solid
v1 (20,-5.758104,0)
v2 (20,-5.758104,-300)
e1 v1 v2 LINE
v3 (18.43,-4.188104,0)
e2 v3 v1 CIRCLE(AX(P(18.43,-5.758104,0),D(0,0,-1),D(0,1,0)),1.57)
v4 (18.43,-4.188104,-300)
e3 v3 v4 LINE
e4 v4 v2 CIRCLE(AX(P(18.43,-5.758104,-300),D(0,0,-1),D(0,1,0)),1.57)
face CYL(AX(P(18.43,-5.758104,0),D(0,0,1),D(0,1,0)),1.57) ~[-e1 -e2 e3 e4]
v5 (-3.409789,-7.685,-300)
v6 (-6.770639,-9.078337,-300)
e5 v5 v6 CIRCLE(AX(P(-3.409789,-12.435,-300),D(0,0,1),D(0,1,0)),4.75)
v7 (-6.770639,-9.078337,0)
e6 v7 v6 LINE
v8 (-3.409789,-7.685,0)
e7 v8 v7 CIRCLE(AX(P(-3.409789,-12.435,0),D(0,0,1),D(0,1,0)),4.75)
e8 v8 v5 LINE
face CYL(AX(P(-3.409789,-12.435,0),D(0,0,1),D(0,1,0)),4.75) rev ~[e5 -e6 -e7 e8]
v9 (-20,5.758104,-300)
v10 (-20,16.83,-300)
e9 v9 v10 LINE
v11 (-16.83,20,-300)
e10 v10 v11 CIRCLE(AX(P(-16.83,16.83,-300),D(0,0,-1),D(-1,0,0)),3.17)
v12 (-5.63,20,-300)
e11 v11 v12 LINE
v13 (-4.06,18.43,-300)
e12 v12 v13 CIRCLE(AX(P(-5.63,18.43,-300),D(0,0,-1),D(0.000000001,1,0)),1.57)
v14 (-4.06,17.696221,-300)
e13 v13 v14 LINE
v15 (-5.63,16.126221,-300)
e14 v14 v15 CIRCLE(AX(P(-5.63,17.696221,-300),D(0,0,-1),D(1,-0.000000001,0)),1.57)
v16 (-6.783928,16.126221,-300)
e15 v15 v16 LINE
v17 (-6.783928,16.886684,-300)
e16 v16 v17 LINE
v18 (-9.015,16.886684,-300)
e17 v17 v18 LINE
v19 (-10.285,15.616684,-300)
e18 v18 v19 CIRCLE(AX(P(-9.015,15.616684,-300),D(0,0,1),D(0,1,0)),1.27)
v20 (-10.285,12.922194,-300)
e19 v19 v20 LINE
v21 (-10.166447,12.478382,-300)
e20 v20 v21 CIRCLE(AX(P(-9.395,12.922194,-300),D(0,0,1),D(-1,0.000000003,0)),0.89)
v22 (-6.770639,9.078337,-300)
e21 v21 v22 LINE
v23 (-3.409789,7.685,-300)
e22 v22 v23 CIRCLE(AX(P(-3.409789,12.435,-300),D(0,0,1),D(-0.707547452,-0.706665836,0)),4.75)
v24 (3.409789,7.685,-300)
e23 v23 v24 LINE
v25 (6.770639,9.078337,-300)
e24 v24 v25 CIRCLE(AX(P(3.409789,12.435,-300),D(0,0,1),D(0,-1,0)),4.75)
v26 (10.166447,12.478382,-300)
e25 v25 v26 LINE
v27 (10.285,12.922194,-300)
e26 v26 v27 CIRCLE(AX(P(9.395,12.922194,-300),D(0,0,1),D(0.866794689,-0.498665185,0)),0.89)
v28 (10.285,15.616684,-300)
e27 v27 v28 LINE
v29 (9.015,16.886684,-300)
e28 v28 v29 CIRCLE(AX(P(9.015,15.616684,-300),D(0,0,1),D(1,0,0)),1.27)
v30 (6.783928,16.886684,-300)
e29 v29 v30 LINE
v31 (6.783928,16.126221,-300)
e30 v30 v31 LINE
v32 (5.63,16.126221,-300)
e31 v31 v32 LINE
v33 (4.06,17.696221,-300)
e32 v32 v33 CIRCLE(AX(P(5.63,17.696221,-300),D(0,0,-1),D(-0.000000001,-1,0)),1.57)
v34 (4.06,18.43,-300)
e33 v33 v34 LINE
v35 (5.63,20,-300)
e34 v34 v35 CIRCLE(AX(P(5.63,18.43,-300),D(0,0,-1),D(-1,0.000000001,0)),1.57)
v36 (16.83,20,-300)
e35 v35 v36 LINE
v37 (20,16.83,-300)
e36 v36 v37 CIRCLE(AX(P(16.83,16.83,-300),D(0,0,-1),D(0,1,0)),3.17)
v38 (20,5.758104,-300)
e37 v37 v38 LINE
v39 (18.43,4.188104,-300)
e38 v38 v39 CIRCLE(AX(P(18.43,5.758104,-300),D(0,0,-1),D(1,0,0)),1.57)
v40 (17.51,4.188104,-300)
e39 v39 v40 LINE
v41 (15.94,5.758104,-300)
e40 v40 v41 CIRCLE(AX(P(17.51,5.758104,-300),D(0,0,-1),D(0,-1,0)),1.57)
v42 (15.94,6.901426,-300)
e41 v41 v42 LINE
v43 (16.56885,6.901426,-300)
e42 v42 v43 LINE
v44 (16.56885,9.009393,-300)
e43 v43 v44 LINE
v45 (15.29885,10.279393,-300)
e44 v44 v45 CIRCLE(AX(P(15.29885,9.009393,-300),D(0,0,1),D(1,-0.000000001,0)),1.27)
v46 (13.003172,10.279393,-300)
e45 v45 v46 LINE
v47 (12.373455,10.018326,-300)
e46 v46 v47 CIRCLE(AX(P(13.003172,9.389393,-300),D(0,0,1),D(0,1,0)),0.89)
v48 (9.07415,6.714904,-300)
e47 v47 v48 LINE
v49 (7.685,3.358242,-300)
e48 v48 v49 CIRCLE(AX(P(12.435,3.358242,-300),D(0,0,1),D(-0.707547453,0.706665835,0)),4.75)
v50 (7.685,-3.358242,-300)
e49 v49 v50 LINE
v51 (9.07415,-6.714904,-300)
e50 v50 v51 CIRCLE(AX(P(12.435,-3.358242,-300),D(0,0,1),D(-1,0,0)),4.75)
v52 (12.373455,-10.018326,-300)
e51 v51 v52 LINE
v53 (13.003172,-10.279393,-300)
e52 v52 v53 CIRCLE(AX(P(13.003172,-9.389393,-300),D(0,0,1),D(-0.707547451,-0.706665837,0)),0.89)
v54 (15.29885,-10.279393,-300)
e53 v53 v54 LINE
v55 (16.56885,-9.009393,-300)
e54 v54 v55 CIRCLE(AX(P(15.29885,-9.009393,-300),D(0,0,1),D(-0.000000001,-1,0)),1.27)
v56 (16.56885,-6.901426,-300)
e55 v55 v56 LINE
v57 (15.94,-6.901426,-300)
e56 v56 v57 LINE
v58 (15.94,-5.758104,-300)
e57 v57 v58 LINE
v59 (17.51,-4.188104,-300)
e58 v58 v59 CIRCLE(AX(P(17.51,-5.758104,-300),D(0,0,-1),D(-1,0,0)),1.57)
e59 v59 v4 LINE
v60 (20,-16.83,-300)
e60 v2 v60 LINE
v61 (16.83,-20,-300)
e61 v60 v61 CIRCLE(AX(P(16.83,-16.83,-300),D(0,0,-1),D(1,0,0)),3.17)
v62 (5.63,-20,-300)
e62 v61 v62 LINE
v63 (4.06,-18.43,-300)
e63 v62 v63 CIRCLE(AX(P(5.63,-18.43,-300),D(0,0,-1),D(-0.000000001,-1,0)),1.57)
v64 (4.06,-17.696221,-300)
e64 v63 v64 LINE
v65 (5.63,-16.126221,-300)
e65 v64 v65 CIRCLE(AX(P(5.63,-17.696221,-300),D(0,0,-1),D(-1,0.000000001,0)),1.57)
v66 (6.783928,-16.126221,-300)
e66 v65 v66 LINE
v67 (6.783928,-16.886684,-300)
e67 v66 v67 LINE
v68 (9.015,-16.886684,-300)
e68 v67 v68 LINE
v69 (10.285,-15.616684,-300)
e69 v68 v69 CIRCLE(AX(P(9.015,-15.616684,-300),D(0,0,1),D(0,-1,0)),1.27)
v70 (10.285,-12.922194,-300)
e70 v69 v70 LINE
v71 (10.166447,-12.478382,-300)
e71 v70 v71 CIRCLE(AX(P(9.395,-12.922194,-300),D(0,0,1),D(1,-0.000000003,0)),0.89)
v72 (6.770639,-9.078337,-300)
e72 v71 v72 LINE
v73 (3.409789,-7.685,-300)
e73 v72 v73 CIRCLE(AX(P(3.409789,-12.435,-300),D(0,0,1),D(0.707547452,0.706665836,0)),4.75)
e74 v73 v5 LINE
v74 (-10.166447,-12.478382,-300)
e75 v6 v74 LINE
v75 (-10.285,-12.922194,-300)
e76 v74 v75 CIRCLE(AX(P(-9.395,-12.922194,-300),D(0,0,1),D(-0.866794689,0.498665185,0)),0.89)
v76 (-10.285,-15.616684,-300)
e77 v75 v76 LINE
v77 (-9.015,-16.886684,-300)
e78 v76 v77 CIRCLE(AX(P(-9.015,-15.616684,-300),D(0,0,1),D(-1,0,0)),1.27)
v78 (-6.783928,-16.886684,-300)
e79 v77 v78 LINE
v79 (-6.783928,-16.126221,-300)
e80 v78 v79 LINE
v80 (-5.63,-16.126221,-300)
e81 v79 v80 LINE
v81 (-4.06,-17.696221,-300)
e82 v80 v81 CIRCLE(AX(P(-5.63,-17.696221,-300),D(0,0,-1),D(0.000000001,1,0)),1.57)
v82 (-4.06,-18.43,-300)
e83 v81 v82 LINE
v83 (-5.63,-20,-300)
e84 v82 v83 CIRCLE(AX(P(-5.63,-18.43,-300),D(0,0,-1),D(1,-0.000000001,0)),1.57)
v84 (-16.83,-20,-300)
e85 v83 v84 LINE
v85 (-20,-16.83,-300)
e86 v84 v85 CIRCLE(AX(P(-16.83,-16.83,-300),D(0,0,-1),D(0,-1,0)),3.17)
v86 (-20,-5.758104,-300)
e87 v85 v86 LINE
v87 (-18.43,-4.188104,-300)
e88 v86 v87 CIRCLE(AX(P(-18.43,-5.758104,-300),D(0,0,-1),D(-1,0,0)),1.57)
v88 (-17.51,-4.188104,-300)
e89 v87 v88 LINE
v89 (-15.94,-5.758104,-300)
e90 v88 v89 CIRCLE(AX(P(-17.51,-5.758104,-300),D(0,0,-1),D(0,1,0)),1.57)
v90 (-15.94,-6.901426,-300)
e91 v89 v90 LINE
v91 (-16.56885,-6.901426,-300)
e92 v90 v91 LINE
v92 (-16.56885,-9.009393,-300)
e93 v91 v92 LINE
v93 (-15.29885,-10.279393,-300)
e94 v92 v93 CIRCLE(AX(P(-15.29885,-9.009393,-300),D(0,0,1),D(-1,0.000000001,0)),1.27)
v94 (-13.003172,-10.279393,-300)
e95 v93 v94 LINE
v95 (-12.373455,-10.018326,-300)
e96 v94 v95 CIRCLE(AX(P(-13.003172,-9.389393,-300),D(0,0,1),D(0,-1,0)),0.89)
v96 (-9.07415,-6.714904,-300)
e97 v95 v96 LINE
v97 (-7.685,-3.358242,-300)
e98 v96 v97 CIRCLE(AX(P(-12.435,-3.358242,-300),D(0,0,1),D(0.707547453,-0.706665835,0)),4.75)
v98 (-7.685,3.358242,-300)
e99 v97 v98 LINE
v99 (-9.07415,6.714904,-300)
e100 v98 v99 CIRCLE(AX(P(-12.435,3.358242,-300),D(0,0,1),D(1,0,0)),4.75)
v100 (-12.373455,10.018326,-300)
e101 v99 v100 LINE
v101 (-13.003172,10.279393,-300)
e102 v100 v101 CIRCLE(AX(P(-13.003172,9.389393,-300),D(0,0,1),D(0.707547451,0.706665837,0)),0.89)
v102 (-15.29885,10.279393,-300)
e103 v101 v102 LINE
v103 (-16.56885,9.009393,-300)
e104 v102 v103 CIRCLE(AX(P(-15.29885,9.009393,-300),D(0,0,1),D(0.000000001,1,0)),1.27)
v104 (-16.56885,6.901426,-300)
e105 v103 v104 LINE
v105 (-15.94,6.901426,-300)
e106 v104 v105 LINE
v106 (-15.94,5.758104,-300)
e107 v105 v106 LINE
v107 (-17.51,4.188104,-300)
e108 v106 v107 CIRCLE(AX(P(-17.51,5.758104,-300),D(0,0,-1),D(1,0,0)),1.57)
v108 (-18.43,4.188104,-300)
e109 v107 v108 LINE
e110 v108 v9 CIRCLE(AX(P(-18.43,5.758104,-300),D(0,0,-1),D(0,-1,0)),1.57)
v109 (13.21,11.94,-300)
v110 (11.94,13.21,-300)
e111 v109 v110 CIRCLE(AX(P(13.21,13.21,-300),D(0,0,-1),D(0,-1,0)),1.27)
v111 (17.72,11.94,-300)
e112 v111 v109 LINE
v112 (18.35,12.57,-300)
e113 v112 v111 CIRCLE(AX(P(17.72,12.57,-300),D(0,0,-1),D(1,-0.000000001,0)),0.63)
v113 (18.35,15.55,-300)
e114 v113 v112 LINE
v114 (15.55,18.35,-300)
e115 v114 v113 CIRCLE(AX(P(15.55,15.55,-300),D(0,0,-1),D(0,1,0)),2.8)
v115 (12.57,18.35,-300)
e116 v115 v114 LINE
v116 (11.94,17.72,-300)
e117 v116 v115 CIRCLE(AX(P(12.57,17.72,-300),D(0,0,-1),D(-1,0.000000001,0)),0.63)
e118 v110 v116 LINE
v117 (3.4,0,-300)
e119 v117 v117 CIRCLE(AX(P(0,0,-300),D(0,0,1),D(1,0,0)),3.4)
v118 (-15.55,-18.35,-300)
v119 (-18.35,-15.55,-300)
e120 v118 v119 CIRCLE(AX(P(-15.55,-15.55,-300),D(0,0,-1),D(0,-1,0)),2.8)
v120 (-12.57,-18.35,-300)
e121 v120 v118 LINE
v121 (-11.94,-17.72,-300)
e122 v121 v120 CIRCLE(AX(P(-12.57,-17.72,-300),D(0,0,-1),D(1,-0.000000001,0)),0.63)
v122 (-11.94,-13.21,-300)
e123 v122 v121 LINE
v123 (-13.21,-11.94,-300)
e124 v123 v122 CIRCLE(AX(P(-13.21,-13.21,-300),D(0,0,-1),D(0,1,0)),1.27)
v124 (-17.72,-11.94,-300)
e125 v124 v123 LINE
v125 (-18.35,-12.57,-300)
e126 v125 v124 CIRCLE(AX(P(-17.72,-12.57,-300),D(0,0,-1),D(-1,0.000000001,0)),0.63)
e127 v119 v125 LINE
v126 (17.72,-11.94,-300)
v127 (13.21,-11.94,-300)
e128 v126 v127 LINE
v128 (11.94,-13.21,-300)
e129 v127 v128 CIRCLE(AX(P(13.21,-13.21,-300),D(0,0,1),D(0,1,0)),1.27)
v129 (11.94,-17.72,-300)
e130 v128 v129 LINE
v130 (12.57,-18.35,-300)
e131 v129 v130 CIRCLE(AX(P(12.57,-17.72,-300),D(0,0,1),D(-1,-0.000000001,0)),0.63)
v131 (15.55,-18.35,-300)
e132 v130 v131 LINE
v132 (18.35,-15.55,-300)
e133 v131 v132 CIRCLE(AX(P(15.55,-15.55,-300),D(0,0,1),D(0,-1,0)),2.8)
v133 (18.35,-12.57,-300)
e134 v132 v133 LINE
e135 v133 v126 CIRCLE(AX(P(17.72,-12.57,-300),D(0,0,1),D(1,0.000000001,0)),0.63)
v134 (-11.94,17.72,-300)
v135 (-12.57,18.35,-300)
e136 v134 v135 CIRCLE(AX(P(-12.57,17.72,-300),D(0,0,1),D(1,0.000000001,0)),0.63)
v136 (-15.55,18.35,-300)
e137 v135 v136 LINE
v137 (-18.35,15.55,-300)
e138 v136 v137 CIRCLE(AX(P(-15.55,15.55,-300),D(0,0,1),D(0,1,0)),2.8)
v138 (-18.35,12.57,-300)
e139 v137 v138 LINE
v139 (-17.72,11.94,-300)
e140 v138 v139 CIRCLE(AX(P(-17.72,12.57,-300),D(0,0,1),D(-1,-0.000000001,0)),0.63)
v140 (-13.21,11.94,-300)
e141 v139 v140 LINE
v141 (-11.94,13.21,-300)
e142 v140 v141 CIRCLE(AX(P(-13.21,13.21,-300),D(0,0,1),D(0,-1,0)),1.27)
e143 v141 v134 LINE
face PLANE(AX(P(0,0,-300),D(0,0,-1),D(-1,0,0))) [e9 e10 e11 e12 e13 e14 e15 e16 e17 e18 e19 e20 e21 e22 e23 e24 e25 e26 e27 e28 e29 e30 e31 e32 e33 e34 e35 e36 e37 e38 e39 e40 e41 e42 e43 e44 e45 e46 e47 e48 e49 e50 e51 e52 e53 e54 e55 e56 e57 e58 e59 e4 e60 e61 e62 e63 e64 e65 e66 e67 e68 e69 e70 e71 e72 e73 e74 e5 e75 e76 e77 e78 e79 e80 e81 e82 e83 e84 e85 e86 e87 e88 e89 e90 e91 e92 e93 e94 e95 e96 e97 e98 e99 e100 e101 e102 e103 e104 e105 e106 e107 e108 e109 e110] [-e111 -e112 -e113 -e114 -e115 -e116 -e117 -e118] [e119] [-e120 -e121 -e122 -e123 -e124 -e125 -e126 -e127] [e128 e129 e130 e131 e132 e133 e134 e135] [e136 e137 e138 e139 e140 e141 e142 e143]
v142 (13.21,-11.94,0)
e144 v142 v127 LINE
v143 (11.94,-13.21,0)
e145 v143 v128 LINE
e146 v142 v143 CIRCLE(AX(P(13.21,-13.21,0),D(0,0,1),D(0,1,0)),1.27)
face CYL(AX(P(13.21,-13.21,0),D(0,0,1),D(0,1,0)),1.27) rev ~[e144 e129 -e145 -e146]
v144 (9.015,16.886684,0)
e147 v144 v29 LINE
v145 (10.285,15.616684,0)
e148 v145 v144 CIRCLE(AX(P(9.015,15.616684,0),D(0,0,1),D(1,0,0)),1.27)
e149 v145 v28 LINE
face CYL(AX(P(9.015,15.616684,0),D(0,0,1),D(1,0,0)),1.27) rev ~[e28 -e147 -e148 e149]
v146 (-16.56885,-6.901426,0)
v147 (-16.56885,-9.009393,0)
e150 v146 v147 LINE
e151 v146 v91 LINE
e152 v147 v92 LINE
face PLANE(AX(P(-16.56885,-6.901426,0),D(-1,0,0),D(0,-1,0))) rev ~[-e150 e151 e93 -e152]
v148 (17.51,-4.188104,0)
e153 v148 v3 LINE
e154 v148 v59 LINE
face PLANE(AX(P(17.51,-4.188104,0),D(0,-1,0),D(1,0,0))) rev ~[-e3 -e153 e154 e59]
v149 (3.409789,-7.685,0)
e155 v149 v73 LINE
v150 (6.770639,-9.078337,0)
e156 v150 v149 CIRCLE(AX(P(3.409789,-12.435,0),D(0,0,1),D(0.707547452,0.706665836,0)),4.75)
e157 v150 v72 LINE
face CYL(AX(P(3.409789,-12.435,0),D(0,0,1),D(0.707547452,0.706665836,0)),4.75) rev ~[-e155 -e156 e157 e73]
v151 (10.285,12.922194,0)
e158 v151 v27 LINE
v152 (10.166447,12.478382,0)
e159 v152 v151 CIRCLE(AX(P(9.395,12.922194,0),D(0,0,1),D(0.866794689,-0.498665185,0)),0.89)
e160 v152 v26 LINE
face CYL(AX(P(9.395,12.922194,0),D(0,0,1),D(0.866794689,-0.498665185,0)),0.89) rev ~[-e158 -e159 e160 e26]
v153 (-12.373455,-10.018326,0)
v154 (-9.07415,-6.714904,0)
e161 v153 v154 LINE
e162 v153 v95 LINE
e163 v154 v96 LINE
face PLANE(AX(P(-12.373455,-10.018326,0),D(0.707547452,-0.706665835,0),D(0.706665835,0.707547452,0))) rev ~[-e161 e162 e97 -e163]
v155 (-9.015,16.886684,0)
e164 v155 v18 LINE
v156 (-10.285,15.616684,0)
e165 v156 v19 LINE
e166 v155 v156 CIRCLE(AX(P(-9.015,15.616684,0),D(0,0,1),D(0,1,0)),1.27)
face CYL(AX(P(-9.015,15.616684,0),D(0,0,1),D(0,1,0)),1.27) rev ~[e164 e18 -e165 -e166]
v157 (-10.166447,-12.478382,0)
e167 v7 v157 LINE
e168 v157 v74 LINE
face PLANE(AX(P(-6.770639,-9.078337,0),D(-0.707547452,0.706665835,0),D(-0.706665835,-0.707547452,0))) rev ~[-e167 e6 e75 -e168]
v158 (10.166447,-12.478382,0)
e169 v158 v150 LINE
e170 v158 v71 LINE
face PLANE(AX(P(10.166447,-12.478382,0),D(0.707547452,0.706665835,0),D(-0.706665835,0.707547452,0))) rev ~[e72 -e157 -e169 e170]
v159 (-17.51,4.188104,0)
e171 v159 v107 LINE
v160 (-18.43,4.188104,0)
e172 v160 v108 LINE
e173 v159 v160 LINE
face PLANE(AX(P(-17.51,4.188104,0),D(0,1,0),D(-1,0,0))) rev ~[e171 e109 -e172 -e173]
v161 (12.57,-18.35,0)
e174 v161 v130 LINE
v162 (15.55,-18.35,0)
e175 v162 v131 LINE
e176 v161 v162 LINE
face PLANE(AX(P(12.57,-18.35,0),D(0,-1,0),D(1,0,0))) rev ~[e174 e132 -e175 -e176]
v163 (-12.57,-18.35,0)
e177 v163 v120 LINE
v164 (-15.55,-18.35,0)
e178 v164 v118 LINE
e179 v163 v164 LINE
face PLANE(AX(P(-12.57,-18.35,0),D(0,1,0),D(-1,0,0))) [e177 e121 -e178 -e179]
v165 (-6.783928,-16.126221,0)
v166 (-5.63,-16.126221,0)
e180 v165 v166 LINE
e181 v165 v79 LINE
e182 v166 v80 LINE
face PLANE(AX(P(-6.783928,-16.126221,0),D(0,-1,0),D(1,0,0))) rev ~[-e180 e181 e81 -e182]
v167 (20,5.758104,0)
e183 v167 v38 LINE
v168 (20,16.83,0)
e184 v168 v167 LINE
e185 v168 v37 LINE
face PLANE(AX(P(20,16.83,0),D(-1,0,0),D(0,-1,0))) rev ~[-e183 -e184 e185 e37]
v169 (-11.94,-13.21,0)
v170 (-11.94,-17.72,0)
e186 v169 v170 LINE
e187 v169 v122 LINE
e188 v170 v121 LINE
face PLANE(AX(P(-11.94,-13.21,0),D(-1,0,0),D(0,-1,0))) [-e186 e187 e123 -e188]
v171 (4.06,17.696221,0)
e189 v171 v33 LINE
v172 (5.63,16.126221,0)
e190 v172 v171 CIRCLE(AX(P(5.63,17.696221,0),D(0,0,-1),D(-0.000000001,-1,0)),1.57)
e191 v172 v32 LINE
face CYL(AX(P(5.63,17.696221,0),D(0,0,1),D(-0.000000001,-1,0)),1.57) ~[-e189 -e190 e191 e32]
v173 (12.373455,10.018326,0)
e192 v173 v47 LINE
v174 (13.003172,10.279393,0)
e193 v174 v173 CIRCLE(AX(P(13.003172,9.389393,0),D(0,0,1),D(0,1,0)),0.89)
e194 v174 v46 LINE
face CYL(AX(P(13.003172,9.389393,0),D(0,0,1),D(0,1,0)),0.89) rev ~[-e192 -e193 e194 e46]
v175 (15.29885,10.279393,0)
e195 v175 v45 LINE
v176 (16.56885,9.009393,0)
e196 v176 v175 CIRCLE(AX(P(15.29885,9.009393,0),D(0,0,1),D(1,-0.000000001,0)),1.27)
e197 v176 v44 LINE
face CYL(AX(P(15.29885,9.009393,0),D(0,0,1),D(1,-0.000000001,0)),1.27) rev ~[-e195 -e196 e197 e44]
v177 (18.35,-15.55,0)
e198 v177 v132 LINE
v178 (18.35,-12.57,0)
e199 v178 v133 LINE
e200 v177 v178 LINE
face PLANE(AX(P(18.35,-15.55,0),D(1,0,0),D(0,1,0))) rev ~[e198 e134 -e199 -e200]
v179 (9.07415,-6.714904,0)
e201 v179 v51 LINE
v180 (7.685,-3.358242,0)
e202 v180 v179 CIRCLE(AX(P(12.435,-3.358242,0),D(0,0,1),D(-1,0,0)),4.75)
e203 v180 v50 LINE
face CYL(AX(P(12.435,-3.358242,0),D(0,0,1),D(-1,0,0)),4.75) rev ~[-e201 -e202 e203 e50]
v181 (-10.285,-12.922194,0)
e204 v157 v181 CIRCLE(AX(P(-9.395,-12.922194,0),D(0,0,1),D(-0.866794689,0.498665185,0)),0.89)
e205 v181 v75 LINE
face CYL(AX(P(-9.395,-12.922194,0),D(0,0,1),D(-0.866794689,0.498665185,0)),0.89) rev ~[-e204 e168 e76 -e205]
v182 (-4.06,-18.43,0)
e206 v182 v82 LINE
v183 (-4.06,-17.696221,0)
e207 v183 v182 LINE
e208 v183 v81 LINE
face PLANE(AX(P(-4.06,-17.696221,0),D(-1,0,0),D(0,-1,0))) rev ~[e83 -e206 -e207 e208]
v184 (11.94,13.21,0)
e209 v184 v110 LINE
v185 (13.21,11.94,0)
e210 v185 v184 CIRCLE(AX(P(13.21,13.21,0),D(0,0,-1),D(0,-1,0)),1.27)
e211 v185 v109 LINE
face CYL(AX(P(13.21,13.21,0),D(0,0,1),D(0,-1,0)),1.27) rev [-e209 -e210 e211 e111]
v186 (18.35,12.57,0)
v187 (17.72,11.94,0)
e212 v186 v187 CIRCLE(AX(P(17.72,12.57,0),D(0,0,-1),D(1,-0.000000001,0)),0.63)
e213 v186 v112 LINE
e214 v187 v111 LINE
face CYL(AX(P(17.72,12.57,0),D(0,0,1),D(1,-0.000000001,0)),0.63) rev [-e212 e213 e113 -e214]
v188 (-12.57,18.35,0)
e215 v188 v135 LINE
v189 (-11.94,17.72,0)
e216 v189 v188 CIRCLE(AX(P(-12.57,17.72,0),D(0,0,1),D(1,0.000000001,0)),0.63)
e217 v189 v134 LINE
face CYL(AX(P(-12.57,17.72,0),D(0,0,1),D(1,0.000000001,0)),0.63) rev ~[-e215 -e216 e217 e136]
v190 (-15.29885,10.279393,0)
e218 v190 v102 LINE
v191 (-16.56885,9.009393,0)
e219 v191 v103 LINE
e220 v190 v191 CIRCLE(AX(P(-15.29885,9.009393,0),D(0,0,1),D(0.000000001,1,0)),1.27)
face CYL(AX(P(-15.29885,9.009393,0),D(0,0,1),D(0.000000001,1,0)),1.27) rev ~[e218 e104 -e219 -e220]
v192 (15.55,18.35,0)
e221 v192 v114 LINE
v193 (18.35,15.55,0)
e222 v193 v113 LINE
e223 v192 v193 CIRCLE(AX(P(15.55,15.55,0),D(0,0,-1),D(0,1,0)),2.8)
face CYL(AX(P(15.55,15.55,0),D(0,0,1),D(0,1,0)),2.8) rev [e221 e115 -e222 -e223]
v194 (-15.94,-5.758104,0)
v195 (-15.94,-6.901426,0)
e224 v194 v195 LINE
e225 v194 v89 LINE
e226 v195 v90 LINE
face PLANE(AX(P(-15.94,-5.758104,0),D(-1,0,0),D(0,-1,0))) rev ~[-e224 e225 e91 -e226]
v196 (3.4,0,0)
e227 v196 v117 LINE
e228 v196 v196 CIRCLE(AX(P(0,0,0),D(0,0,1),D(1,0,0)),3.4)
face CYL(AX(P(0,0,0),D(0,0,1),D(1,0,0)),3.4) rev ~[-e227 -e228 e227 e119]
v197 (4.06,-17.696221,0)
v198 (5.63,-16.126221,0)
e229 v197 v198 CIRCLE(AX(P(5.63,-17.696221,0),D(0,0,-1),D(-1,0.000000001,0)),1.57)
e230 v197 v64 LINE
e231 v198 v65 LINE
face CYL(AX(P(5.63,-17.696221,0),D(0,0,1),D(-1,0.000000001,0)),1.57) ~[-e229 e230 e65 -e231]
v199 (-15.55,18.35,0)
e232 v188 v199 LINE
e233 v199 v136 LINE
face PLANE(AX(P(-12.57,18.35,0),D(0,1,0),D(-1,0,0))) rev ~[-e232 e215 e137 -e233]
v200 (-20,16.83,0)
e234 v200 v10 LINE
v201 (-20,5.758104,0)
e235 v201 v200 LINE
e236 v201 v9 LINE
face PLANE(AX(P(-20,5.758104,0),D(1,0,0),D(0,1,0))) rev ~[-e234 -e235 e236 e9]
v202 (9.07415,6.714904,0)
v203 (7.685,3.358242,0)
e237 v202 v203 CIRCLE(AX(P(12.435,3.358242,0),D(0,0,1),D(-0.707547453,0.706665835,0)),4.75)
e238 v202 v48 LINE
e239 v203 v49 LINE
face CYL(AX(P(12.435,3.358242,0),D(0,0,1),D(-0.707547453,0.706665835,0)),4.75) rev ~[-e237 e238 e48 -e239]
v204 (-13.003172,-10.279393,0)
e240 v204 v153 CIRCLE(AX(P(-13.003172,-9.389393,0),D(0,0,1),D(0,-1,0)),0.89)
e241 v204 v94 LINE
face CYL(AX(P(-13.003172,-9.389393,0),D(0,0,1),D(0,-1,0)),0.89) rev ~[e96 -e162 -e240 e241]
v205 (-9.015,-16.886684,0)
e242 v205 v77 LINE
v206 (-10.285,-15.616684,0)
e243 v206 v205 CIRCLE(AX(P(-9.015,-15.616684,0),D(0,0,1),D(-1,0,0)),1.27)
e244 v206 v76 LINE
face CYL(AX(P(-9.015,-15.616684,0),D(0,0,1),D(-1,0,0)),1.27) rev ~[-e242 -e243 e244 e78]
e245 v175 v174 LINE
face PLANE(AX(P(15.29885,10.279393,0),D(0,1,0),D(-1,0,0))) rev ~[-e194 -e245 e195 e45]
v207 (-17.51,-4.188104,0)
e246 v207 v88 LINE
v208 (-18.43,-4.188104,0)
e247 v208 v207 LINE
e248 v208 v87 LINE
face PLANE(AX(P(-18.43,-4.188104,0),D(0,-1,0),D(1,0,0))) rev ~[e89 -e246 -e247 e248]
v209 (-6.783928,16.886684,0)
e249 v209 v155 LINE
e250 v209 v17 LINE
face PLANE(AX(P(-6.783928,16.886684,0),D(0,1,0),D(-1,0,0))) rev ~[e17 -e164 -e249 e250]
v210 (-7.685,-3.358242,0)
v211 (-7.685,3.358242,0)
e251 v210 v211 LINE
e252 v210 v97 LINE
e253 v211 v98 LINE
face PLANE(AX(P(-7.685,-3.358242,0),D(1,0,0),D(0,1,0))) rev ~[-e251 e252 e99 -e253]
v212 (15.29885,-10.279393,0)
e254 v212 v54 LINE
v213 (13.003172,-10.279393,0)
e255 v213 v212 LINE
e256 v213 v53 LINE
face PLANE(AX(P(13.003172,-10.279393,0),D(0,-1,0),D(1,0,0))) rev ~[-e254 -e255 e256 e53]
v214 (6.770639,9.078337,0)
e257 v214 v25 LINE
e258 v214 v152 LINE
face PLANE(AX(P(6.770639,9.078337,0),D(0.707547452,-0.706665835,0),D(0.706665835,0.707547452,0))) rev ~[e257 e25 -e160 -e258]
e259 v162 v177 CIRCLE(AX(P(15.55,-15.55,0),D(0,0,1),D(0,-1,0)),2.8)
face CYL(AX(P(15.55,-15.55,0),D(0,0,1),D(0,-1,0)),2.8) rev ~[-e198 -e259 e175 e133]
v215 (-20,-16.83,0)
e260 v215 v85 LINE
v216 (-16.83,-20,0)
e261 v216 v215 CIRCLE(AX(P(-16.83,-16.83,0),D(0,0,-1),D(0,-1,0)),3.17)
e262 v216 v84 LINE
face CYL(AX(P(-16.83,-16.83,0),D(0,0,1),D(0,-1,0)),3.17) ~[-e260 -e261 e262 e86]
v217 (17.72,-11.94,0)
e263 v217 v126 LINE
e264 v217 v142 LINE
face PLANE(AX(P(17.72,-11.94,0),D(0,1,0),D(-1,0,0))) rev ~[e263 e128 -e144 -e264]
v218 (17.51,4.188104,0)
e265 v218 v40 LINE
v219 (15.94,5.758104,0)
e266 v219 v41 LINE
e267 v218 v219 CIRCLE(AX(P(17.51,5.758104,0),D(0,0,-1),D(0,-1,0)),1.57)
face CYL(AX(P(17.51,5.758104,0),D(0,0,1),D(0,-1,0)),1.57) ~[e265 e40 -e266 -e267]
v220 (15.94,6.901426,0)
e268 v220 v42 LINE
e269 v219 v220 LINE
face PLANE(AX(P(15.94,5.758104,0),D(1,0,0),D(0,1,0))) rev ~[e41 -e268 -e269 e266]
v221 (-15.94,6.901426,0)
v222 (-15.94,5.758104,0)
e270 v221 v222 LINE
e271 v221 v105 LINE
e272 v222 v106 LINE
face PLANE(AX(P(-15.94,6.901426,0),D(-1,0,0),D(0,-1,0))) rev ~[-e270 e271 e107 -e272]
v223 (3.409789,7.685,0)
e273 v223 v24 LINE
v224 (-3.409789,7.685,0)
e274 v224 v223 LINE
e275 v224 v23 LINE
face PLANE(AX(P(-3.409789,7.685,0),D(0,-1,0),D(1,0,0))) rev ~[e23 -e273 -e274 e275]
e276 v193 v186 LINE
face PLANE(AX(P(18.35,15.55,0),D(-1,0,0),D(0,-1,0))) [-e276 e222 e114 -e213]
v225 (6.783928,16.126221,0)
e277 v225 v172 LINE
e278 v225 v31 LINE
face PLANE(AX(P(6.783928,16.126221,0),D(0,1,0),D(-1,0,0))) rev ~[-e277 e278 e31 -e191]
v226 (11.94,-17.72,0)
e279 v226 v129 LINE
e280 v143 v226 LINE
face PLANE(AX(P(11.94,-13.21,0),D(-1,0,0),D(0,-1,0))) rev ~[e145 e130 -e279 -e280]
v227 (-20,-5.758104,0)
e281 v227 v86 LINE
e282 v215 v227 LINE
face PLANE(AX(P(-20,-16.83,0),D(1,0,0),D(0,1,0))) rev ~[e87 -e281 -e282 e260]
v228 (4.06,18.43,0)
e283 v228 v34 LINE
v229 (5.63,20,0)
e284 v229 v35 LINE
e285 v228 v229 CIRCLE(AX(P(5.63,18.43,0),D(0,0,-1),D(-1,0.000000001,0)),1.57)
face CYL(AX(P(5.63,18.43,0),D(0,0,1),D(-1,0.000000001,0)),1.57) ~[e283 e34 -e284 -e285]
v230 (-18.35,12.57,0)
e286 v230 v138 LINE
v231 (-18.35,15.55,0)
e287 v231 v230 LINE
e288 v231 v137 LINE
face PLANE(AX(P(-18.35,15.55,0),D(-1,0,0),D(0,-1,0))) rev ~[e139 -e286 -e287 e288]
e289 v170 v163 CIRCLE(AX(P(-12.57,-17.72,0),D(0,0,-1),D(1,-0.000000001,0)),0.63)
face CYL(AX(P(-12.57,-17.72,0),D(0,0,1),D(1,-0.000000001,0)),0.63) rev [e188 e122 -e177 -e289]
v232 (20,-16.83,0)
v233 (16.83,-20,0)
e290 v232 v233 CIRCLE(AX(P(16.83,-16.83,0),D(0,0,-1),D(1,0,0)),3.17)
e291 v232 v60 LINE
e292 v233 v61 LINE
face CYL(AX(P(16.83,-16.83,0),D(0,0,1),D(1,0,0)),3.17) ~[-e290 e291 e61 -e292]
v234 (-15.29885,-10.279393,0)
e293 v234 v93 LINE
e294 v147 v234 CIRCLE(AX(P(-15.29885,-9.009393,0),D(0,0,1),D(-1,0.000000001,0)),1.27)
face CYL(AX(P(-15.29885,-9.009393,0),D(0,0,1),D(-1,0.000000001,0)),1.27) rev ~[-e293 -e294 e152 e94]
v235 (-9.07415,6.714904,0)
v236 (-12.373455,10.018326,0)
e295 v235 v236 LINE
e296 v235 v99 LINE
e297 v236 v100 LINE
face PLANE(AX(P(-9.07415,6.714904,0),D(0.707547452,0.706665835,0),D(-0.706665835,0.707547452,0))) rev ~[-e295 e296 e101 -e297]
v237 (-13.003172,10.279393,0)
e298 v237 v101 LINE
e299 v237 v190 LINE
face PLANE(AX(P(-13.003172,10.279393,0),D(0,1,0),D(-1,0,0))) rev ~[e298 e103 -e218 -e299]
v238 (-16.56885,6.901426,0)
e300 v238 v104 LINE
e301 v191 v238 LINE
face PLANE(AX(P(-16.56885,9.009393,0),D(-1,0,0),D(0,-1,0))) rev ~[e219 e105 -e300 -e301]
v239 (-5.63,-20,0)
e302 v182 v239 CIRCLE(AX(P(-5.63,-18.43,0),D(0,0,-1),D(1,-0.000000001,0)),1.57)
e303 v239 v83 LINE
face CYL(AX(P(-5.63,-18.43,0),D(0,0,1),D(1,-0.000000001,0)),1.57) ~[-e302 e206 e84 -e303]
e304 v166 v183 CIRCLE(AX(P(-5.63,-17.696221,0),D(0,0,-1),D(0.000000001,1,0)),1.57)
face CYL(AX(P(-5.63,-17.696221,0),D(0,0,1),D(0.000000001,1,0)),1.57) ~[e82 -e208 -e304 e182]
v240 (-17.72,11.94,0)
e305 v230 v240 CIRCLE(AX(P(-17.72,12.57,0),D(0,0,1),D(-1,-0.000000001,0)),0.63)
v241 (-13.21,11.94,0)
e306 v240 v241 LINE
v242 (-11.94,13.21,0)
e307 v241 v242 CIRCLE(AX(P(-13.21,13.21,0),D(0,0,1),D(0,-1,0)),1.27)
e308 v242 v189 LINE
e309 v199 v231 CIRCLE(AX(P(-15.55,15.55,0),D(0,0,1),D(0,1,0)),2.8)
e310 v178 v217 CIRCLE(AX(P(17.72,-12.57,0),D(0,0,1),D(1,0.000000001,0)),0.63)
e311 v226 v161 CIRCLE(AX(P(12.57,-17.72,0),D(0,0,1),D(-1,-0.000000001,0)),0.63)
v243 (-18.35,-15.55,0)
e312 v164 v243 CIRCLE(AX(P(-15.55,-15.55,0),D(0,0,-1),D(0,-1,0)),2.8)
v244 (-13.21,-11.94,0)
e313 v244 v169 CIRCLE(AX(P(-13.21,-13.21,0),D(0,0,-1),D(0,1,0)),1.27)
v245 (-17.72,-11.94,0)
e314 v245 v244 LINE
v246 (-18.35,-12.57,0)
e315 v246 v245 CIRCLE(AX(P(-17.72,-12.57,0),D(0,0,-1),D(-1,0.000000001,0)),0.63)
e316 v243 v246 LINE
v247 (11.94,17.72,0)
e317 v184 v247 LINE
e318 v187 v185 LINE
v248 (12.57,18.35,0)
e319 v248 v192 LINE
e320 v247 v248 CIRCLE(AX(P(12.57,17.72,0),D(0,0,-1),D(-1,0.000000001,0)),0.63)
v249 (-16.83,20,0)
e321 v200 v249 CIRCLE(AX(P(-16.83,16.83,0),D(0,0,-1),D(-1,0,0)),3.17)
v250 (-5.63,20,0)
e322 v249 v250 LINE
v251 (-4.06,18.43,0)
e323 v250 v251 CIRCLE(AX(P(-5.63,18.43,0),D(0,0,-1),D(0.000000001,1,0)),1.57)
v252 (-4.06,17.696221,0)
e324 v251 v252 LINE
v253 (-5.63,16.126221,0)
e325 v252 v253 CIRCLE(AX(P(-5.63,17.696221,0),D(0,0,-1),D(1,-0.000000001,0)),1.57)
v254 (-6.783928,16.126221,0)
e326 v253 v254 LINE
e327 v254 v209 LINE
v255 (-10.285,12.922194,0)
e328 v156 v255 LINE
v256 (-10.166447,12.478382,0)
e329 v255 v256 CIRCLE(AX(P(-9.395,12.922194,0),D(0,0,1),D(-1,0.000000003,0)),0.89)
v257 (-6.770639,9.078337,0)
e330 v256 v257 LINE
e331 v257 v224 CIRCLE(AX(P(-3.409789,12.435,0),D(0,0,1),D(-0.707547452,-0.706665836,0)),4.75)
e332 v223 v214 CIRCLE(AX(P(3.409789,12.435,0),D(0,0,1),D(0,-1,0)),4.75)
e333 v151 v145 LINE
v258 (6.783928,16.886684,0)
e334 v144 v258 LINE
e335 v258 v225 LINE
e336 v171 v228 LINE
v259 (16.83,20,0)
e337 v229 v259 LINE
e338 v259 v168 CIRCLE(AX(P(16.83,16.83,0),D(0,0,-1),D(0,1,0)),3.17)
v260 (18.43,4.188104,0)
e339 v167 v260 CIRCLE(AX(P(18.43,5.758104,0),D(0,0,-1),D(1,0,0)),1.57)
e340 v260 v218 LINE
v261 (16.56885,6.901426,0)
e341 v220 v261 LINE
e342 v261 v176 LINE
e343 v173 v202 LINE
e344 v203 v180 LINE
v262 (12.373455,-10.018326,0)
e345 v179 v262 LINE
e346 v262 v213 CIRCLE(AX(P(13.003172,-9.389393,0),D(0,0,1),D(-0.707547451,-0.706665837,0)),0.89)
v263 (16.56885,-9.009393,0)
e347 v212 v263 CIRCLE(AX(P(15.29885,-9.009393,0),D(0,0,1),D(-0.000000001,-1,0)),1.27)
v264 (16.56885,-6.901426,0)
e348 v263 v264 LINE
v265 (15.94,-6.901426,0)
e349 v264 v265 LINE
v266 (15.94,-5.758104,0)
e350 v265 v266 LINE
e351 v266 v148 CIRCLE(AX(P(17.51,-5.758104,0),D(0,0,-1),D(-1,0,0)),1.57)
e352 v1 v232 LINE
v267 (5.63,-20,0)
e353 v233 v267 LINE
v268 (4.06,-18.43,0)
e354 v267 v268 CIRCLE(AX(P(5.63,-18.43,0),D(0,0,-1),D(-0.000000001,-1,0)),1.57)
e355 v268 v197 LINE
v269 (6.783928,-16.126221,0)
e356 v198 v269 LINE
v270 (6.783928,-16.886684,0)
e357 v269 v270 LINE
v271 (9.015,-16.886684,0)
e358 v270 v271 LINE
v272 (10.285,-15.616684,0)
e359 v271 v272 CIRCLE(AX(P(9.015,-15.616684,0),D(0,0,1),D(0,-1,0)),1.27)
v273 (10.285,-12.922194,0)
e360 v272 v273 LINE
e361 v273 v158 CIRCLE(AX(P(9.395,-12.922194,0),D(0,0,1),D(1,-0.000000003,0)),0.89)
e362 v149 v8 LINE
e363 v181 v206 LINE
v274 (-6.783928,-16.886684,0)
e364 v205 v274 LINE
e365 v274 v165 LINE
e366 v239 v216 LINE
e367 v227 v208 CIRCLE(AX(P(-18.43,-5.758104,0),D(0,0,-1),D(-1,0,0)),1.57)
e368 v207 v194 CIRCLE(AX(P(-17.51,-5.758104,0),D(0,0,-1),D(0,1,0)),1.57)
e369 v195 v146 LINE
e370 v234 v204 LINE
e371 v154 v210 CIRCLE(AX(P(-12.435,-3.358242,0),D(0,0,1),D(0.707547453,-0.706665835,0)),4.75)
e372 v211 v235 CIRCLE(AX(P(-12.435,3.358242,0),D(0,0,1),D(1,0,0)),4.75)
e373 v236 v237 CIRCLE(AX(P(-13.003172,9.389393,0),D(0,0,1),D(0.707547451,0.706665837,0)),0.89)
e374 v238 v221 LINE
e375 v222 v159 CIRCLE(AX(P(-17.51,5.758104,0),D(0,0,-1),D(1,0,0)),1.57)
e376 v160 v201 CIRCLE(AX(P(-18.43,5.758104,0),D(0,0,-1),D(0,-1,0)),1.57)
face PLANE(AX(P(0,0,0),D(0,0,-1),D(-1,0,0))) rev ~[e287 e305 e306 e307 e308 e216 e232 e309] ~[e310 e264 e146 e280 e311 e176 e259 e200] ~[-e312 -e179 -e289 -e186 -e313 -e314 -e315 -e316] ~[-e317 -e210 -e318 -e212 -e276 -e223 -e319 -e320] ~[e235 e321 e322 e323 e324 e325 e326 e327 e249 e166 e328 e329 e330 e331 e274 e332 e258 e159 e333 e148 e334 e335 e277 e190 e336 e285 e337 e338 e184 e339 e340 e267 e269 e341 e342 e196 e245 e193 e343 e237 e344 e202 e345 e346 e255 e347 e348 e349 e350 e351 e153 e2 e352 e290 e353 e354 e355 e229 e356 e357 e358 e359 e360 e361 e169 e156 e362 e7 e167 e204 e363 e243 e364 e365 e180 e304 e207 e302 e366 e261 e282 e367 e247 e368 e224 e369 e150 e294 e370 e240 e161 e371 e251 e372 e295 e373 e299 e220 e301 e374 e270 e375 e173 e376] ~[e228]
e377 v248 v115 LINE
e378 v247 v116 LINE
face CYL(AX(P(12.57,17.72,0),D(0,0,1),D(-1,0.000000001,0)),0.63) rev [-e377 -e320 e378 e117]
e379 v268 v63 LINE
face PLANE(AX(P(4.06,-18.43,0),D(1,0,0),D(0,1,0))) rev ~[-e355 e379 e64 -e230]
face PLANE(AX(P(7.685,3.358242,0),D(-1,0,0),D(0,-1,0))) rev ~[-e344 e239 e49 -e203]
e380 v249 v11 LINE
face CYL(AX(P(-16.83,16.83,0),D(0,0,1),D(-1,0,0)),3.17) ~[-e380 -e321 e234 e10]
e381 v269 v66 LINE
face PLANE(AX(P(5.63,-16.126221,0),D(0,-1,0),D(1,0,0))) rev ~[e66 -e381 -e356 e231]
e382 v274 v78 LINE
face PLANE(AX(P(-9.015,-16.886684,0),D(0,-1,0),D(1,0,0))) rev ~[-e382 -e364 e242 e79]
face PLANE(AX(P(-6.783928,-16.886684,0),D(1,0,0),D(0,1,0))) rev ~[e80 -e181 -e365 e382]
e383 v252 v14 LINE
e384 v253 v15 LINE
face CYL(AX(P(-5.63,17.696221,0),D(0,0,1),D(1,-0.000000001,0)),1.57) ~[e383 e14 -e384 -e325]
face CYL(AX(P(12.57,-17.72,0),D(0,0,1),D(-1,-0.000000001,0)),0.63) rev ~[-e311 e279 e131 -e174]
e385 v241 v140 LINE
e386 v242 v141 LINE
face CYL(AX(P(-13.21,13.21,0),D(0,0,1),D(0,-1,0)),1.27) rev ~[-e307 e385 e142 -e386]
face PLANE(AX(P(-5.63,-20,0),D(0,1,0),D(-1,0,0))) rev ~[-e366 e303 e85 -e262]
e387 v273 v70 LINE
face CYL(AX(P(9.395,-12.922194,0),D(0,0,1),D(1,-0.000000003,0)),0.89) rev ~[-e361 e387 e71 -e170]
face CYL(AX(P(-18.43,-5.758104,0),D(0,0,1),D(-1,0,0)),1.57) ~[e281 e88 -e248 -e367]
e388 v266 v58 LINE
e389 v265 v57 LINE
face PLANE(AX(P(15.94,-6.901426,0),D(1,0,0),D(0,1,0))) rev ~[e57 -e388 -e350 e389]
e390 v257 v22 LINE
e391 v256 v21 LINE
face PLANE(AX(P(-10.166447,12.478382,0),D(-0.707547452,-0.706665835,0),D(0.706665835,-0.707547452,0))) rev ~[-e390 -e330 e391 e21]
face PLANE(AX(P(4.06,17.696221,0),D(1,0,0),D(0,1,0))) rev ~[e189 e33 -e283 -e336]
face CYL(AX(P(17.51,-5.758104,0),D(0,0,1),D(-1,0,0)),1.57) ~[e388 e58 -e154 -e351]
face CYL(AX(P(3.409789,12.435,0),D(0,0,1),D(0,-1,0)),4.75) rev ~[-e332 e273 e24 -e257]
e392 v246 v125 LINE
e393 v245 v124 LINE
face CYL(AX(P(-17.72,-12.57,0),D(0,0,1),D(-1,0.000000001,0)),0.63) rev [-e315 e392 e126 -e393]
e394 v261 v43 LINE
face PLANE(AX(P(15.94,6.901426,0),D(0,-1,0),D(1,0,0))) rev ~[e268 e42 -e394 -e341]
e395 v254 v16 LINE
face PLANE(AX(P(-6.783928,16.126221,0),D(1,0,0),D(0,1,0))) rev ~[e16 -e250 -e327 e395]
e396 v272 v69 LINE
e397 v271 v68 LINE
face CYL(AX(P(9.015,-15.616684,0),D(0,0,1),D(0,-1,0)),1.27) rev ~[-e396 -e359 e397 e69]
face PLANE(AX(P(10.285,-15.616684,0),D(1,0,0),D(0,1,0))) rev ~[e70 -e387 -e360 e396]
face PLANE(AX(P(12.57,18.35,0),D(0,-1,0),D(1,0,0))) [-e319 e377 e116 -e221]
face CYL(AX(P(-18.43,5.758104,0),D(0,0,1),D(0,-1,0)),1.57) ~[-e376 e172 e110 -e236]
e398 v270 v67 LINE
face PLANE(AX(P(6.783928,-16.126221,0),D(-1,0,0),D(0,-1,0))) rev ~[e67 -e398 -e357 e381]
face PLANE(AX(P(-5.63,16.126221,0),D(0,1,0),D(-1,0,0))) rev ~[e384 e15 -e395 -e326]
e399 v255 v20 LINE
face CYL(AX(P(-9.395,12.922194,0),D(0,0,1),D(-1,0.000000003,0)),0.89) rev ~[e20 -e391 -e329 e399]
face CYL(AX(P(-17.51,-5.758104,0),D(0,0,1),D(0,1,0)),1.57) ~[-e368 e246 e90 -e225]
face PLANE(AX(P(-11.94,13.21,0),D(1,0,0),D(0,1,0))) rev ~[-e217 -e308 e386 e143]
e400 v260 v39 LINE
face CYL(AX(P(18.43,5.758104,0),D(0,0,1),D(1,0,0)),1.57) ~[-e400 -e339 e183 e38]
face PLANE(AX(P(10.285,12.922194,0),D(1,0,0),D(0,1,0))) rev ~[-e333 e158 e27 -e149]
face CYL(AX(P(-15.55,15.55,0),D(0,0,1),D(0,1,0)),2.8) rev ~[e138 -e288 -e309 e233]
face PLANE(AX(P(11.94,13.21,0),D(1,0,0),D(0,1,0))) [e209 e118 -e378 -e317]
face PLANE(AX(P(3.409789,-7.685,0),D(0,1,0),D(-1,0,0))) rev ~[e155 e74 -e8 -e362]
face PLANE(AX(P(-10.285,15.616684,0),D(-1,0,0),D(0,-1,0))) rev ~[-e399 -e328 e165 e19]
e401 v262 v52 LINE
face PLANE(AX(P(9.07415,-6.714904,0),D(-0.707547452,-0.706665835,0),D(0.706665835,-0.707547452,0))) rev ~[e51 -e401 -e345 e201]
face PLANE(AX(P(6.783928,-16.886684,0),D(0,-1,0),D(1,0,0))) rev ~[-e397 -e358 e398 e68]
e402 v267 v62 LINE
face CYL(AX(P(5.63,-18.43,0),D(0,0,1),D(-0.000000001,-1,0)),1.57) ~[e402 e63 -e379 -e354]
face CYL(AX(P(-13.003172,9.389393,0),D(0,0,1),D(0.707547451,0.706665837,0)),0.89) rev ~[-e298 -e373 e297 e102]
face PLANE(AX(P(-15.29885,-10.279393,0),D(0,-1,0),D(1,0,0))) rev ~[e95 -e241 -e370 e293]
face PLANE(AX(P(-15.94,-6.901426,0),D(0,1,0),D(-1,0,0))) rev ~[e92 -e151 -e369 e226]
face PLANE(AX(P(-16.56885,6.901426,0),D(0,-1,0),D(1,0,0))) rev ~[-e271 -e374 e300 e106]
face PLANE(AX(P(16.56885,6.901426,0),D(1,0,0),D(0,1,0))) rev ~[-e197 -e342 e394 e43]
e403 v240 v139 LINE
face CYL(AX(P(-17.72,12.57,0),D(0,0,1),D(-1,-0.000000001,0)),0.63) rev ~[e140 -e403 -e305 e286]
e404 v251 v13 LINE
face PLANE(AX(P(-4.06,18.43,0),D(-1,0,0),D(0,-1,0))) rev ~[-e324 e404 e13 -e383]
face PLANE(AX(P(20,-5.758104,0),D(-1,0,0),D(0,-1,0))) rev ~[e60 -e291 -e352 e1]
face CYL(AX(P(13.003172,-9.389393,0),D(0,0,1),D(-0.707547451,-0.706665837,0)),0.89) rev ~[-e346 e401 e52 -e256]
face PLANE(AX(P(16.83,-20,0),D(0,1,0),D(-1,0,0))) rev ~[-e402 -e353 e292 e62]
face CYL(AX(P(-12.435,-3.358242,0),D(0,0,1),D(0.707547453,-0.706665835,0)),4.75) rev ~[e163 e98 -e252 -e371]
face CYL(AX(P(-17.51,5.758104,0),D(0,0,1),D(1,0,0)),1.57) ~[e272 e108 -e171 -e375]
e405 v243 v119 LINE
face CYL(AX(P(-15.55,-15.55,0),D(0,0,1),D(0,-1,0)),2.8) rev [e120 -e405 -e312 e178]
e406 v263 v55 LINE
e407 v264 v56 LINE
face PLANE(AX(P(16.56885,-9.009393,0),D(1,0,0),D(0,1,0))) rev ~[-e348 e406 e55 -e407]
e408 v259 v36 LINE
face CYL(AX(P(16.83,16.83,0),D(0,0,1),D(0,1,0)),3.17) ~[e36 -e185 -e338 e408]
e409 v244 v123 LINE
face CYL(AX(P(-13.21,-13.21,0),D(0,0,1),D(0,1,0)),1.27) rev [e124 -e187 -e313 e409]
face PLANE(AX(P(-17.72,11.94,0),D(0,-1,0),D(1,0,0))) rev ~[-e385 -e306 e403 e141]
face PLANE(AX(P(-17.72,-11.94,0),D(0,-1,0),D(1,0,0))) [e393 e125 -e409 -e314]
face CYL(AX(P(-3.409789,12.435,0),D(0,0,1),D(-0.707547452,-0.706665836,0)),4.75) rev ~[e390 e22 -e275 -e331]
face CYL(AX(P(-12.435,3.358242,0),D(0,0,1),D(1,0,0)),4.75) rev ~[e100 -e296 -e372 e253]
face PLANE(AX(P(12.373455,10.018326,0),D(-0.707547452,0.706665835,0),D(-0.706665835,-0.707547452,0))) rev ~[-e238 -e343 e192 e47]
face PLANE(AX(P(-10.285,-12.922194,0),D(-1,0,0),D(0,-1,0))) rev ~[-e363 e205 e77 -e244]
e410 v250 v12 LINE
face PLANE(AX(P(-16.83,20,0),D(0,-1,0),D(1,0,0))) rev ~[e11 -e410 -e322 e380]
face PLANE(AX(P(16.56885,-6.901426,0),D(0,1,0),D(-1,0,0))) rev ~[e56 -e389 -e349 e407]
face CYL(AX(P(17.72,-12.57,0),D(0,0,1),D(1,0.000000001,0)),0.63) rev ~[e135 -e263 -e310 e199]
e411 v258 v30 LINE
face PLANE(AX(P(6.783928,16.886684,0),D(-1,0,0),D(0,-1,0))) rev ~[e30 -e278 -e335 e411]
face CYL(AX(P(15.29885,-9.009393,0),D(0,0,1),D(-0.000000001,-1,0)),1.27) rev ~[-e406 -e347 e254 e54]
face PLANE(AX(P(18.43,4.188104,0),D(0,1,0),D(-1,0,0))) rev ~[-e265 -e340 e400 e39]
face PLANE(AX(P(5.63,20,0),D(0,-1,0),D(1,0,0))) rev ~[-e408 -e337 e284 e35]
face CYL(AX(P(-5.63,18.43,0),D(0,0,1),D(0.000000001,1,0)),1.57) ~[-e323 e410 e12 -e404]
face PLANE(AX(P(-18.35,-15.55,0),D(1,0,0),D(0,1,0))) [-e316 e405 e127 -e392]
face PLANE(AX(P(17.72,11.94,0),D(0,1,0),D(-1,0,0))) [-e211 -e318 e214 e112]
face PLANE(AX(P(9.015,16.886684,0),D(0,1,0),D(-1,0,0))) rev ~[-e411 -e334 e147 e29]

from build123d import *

# Parameters (mm, degrees)
SKETCH1_R      = 3.4
EXTRUDE1_DEPTH = 300


with BuildPart() as part:
    # Sketch1 → Extrude1 (new body)
    with BuildSketch(Plane.XY):
        with BuildLine():
            Line((7.685, 3.358241745), (7.685, -3.358241745))
            ThreePointArc((7.685, -3.358241745), (8.046005845, -5.174620093), (9.074149602, -6.714904463))
            Line((9.074149602, -6.714904463), (12.373454754, -10.018325737))
            ThreePointArc((12.373454754, -10.018325737), (12.662327453, -10.211539726), (13.003171987, -10.279393143))
            Line((13.003171987, -10.279393143), (15.298849809, -10.279393143))
            ThreePointArc((15.298849809, -10.279393143), (16.196875422, -9.907418755), (16.568849809, -9.009393143))
            Line((16.568849809, -9.009393143), (16.568849809, -6.901425905))
            Line((16.568849809, -6.901425905), (15.94, -6.901425905))
            Line((15.94, -6.901425905), (15.94, -5.758104362))
            ThreePointArc((15.94, -5.758104362), (16.399842354, -4.647946715), (17.51, -4.188104362))
            Line((17.51, -4.188104362), (18.43, -4.188104362))
            ThreePointArc((18.43, -4.188104362), (19.540157646, -4.647946715), (20, -5.758104362))
            Line((20, -5.758104362), (20, -13.186220555))
            Line((20, -13.186220555), (20, -16.83))
            ThreePointArc((20, -16.83), (19.071528496, -19.071528496), (16.83, -20))
            Line((16.83, -20), (13.004526429, -20))
            Line((13.004526429, -20), (5.63, -20))
            ThreePointArc((5.63, -20), (4.519842354, -19.540157646), (4.06, -18.43))
            Line((4.06, -18.43), (4.06, -17.696220555))
            ThreePointArc((4.06, -17.696220555), (4.519842354, -16.586062909), (5.63, -16.126220555))
            Line((5.63, -16.126220555), (6.7839284, -16.126220555))
            Line((6.7839284, -16.126220555), (6.7839284, -16.886683809))
            Line((6.7839284, -16.886683809), (9.015, -16.886683809))
            ThreePointArc((9.015, -16.886683809), (9.913025612, -16.514709421), (10.285, -15.616683809))
            Line((10.285, -15.616683809), (10.285, -12.922193682))
            ThreePointArc((10.285, -12.922193682), (10.254851172, -12.69250702), (10.166447275, -12.47838167))
            Line((10.166447275, -12.47838167), (6.770639403, -9.078337282))
            ThreePointArc((6.770639403, -9.078337282), (5.228903087, -8.047139023), (3.409789005, -7.685))
            Line((3.409789005, -7.685), (-3.409789005, -7.685))
            ThreePointArc((-3.409789005, -7.685), (-5.228903087, -8.047139023), (-6.770639403, -9.078337282))
            Line((-6.770639403, -9.078337282), (-10.166447275, -12.47838167))
            ThreePointArc((-10.166447275, -12.47838167), (-10.254851172, -12.69250702), (-10.285, -12.922193682))
            Line((-10.285, -12.922193682), (-10.285, -15.616683809))
            ThreePointArc((-10.285, -15.616683809), (-9.913025612, -16.514709421), (-9.015, -16.886683809))
            Line((-9.015, -16.886683809), (-6.7839284, -16.886683809))
            Line((-6.7839284, -16.886683809), (-6.7839284, -16.126220555))
            Line((-6.7839284, -16.126220555), (-5.63, -16.126220555))
            ThreePointArc((-5.63, -16.126220555), (-4.519842354, -16.586062909), (-4.06, -17.696220555))
            Line((-4.06, -17.696220555), (-4.06, -18.43))
            ThreePointArc((-4.06, -18.43), (-4.519842354, -19.540157646), (-5.63, -20))
            Line((-5.63, -20), (-13.004526429, -20))
            Line((-13.004526429, -20), (-16.83, -20))
            ThreePointArc((-16.83, -20), (-19.071528496, -19.071528496), (-20, -16.83))
            Line((-20, -16.83), (-20, -13.186220555))
            Line((-20, -13.186220555), (-20, -5.758104362))
            ThreePointArc((-20, -5.758104362), (-19.540157646, -4.647946715), (-18.43, -4.188104362))
            Line((-18.43, -4.188104362), (-17.51, -4.188104362))
            ThreePointArc((-17.51, -4.188104362), (-16.399842354, -4.647946715), (-15.94, -5.758104362))
            Line((-15.94, -5.758104362), (-15.94, -6.901425905))
            Line((-15.94, -6.901425905), (-16.568849809, -6.901425905))
            Line((-16.568849809, -6.901425905), (-16.568849809, -9.009393143))
            ThreePointArc((-16.568849809, -9.009393143), (-16.196875422, -9.907418755), (-15.298849809, -10.279393143))
            Line((-15.298849809, -10.279393143), (-13.003171987, -10.279393143))
            ThreePointArc((-13.003171987, -10.279393143), (-12.662327453, -10.211539726), (-12.373454754, -10.018325737))
            Line((-12.373454754, -10.018325737), (-9.074149602, -6.714904463))
            ThreePointArc((-9.074149602, -6.714904463), (-8.046005845, -5.174620093), (-7.685, -3.358241745))
            Line((-7.685, -3.358241745), (-7.685, 3.358241745))
            ThreePointArc((-7.685, 3.358241745), (-8.046005845, 5.174620093), (-9.074149602, 6.714904463))
            Line((-9.074149602, 6.714904463), (-12.373454754, 10.018325737))
            ThreePointArc((-12.373454754, 10.018325737), (-12.662327453, 10.211539726), (-13.003171987, 10.279393143))
            Line((-13.003171987, 10.279393143), (-15.298849809, 10.279393143))
            ThreePointArc((-15.298849809, 10.279393143), (-16.196875422, 9.907418755), (-16.568849809, 9.009393143))
            Line((-16.568849809, 9.009393143), (-16.568849809, 6.901425905))
            Line((-16.568849809, 6.901425905), (-15.94, 6.901425905))
            Line((-15.94, 6.901425905), (-15.94, 5.758104362))
            ThreePointArc((-15.94, 5.758104362), (-16.399842354, 4.647946715), (-17.51, 4.188104362))
            Line((-17.51, 4.188104362), (-18.43, 4.188104362))
            ThreePointArc((-18.43, 4.188104362), (-19.540157646, 4.647946715), (-20, 5.758104362))
            Line((-20, 5.758104362), (-20, 13.186220555))
            Line((-20, 13.186220555), (-20, 16.83))
            ThreePointArc((-20, 16.83), (-19.071528496, 19.071528496), (-16.83, 20))
            Line((-16.83, 20), (-13.004526429, 20))
            Line((-13.004526429, 20), (-5.63, 20))
            ThreePointArc((-5.63, 20), (-4.519842354, 19.540157646), (-4.06, 18.43))
            Line((-4.06, 18.43), (-4.06, 17.696220555))
            ThreePointArc((-4.06, 17.696220555), (-4.519842354, 16.586062909), (-5.63, 16.126220555))
            Line((-5.63, 16.126220555), (-6.7839284, 16.126220555))
            Line((-6.7839284, 16.126220555), (-6.7839284, 16.886683809))
            Line((-6.7839284, 16.886683809), (-9.015, 16.886683809))
            ThreePointArc((-9.015, 16.886683809), (-9.913025612, 16.514709421), (-10.285, 15.616683809))
            Line((-10.285, 15.616683809), (-10.285, 12.922193682))
            ThreePointArc((-10.285, 12.922193682), (-10.254851172, 12.69250702), (-10.166447275, 12.47838167))
            Line((-10.166447275, 12.47838167), (-6.770639403, 9.078337282))
            ThreePointArc((-6.770639403, 9.078337282), (-5.228903087, 8.047139023), (-3.409789005, 7.685))
            Line((-3.409789005, 7.685), (3.409789005, 7.685))
            ThreePointArc((3.409789005, 7.685), (5.228903087, 8.047139023), (6.770639403, 9.078337282))
            Line((6.770639403, 9.078337282), (10.166447275, 12.47838167))
            ThreePointArc((10.166447275, 12.47838167), (10.254851172, 12.69250702), (10.285, 12.922193682))
            Line((10.285, 12.922193682), (10.285, 15.616683809))
            ThreePointArc((10.285, 15.616683809), (9.913025612, 16.514709421), (9.015, 16.886683809))
            Line((9.015, 16.886683809), (6.7839284, 16.886683809))
            Line((6.7839284, 16.886683809), (6.7839284, 16.126220555))
            Line((6.7839284, 16.126220555), (5.63, 16.126220555))
            ThreePointArc((5.63, 16.126220555), (4.519842354, 16.586062909), (4.06, 17.696220555))
            Line((4.06, 17.696220555), (4.06, 18.43))
            ThreePointArc((4.06, 18.43), (4.519842354, 19.540157646), (5.63, 20))
            Line((5.63, 20), (13.004526429, 20))
            Line((13.004526429, 20), (16.83, 20))
            ThreePointArc((16.83, 20), (19.071528496, 19.071528496), (20, 16.83))
            Line((20, 16.83), (20, 13.186220555))
            Line((20, 13.186220555), (20, 5.758104362))
            ThreePointArc((20, 5.758104362), (19.540157646, 4.647946715), (18.43, 4.188104362))
            Line((18.43, 4.188104362), (17.51, 4.188104362))
            ThreePointArc((17.51, 4.188104362), (16.399842354, 4.647946715), (15.94, 5.758104362))
            Line((15.94, 5.758104362), (15.94, 6.901425905))
            Line((15.94, 6.901425905), (16.568849809, 6.901425905))
            Line((16.568849809, 6.901425905), (16.568849809, 9.009393143))
            ThreePointArc((16.568849809, 9.009393143), (16.196875422, 9.907418755), (15.298849809, 10.279393143))
            Line((15.298849809, 10.279393143), (13.003171987, 10.279393143))
            ThreePointArc((13.003171987, 10.279393143), (12.662327453, 10.211539726), (12.373454754, 10.018325737))
            Line((12.373454754, 10.018325737), (9.074149602, 6.714904463))
            ThreePointArc((9.074149602, 6.714904463), (8.046005845, 5.174620093), (7.685, 3.358241745))
        make_face()
        Circle(SKETCH1_R, mode=Mode.SUBTRACT)
        with BuildLine():
            Line((12.57, 18.35), (15.55, 18.35))
            ThreePointArc((15.55, 18.35), (17.529898987, 17.529898987), (18.35, 15.55))
            Line((18.35, 15.55), (18.35, 12.57))
            ThreePointArc((18.35, 12.57), (18.165477272, 12.124522728), (17.72, 11.94))
            Line((17.72, 11.94), (13.21, 11.94))
            ThreePointArc((13.21, 11.94), (12.311974388, 12.311974388), (11.94, 13.21))
            Line((11.94, 13.21), (11.94, 17.72))
            ThreePointArc((11.94, 17.72), (12.124522728, 18.165477272), (12.57, 18.35))
        make_face(mode=Mode.SUBTRACT)
        with BuildLine():
            Line((-12.57, -18.35), (-15.55, -18.35))
            ThreePointArc((-15.55, -18.35), (-17.529898987, -17.529898987), (-18.35, -15.55))
            Line((-18.35, -15.55), (-18.35, -12.57))
            ThreePointArc((-18.35, -12.57), (-18.165477272, -12.124522728), (-17.72, -11.94))
            Line((-17.72, -11.94), (-13.21, -11.94))
            ThreePointArc((-13.21, -11.94), (-12.311974388, -12.311974388), (-11.94, -13.21))
            Line((-11.94, -13.21), (-11.94, -17.72))
            ThreePointArc((-11.94, -17.72), (-12.124522728, -18.165477272), (-12.57, -18.35))
        make_face(mode=Mode.SUBTRACT)
        with BuildLine():
            Line((18.35, -15.55), (18.35, -12.57))
            ThreePointArc((18.35, -12.57), (18.165477272, -12.124522728), (17.72, -11.94))
            Line((17.72, -11.94), (13.21, -11.94))
            ThreePointArc((13.21, -11.94), (12.311974388, -12.311974388), (11.94, -13.21))
            Line((11.94, -13.21), (11.94, -17.72))
            ThreePointArc((11.94, -17.72), (12.124522728, -18.165477272), (12.57, -18.35))
            Line((12.57, -18.35), (15.55, -18.35))
            ThreePointArc((15.55, -18.35), (17.529898987, -17.529898987), (18.35, -15.55))
        make_face(mode=Mode.SUBTRACT)
        with BuildLine():
            Line((-18.35, 15.55), (-18.35, 12.57))
            ThreePointArc((-18.35, 12.57), (-18.165477272, 12.124522728), (-17.72, 11.94))
            Line((-17.72, 11.94), (-13.21, 11.94))
            ThreePointArc((-13.21, 11.94), (-12.311974388, 12.311974388), (-11.94, 13.21))
            Line((-11.94, 13.21), (-11.94, 17.72))
            ThreePointArc((-11.94, 17.72), (-12.124522728, 18.165477272), (-12.57, 18.35))
            Line((-12.57, 18.35), (-15.55, 18.35))
            ThreePointArc((-15.55, 18.35), (-17.529898987, 17.529898987), (-18.35, 15.55))
        make_face(mode=Mode.SUBTRACT)
    extrude(amount=-EXTRUDE1_DEPTH)


solid = part.part
